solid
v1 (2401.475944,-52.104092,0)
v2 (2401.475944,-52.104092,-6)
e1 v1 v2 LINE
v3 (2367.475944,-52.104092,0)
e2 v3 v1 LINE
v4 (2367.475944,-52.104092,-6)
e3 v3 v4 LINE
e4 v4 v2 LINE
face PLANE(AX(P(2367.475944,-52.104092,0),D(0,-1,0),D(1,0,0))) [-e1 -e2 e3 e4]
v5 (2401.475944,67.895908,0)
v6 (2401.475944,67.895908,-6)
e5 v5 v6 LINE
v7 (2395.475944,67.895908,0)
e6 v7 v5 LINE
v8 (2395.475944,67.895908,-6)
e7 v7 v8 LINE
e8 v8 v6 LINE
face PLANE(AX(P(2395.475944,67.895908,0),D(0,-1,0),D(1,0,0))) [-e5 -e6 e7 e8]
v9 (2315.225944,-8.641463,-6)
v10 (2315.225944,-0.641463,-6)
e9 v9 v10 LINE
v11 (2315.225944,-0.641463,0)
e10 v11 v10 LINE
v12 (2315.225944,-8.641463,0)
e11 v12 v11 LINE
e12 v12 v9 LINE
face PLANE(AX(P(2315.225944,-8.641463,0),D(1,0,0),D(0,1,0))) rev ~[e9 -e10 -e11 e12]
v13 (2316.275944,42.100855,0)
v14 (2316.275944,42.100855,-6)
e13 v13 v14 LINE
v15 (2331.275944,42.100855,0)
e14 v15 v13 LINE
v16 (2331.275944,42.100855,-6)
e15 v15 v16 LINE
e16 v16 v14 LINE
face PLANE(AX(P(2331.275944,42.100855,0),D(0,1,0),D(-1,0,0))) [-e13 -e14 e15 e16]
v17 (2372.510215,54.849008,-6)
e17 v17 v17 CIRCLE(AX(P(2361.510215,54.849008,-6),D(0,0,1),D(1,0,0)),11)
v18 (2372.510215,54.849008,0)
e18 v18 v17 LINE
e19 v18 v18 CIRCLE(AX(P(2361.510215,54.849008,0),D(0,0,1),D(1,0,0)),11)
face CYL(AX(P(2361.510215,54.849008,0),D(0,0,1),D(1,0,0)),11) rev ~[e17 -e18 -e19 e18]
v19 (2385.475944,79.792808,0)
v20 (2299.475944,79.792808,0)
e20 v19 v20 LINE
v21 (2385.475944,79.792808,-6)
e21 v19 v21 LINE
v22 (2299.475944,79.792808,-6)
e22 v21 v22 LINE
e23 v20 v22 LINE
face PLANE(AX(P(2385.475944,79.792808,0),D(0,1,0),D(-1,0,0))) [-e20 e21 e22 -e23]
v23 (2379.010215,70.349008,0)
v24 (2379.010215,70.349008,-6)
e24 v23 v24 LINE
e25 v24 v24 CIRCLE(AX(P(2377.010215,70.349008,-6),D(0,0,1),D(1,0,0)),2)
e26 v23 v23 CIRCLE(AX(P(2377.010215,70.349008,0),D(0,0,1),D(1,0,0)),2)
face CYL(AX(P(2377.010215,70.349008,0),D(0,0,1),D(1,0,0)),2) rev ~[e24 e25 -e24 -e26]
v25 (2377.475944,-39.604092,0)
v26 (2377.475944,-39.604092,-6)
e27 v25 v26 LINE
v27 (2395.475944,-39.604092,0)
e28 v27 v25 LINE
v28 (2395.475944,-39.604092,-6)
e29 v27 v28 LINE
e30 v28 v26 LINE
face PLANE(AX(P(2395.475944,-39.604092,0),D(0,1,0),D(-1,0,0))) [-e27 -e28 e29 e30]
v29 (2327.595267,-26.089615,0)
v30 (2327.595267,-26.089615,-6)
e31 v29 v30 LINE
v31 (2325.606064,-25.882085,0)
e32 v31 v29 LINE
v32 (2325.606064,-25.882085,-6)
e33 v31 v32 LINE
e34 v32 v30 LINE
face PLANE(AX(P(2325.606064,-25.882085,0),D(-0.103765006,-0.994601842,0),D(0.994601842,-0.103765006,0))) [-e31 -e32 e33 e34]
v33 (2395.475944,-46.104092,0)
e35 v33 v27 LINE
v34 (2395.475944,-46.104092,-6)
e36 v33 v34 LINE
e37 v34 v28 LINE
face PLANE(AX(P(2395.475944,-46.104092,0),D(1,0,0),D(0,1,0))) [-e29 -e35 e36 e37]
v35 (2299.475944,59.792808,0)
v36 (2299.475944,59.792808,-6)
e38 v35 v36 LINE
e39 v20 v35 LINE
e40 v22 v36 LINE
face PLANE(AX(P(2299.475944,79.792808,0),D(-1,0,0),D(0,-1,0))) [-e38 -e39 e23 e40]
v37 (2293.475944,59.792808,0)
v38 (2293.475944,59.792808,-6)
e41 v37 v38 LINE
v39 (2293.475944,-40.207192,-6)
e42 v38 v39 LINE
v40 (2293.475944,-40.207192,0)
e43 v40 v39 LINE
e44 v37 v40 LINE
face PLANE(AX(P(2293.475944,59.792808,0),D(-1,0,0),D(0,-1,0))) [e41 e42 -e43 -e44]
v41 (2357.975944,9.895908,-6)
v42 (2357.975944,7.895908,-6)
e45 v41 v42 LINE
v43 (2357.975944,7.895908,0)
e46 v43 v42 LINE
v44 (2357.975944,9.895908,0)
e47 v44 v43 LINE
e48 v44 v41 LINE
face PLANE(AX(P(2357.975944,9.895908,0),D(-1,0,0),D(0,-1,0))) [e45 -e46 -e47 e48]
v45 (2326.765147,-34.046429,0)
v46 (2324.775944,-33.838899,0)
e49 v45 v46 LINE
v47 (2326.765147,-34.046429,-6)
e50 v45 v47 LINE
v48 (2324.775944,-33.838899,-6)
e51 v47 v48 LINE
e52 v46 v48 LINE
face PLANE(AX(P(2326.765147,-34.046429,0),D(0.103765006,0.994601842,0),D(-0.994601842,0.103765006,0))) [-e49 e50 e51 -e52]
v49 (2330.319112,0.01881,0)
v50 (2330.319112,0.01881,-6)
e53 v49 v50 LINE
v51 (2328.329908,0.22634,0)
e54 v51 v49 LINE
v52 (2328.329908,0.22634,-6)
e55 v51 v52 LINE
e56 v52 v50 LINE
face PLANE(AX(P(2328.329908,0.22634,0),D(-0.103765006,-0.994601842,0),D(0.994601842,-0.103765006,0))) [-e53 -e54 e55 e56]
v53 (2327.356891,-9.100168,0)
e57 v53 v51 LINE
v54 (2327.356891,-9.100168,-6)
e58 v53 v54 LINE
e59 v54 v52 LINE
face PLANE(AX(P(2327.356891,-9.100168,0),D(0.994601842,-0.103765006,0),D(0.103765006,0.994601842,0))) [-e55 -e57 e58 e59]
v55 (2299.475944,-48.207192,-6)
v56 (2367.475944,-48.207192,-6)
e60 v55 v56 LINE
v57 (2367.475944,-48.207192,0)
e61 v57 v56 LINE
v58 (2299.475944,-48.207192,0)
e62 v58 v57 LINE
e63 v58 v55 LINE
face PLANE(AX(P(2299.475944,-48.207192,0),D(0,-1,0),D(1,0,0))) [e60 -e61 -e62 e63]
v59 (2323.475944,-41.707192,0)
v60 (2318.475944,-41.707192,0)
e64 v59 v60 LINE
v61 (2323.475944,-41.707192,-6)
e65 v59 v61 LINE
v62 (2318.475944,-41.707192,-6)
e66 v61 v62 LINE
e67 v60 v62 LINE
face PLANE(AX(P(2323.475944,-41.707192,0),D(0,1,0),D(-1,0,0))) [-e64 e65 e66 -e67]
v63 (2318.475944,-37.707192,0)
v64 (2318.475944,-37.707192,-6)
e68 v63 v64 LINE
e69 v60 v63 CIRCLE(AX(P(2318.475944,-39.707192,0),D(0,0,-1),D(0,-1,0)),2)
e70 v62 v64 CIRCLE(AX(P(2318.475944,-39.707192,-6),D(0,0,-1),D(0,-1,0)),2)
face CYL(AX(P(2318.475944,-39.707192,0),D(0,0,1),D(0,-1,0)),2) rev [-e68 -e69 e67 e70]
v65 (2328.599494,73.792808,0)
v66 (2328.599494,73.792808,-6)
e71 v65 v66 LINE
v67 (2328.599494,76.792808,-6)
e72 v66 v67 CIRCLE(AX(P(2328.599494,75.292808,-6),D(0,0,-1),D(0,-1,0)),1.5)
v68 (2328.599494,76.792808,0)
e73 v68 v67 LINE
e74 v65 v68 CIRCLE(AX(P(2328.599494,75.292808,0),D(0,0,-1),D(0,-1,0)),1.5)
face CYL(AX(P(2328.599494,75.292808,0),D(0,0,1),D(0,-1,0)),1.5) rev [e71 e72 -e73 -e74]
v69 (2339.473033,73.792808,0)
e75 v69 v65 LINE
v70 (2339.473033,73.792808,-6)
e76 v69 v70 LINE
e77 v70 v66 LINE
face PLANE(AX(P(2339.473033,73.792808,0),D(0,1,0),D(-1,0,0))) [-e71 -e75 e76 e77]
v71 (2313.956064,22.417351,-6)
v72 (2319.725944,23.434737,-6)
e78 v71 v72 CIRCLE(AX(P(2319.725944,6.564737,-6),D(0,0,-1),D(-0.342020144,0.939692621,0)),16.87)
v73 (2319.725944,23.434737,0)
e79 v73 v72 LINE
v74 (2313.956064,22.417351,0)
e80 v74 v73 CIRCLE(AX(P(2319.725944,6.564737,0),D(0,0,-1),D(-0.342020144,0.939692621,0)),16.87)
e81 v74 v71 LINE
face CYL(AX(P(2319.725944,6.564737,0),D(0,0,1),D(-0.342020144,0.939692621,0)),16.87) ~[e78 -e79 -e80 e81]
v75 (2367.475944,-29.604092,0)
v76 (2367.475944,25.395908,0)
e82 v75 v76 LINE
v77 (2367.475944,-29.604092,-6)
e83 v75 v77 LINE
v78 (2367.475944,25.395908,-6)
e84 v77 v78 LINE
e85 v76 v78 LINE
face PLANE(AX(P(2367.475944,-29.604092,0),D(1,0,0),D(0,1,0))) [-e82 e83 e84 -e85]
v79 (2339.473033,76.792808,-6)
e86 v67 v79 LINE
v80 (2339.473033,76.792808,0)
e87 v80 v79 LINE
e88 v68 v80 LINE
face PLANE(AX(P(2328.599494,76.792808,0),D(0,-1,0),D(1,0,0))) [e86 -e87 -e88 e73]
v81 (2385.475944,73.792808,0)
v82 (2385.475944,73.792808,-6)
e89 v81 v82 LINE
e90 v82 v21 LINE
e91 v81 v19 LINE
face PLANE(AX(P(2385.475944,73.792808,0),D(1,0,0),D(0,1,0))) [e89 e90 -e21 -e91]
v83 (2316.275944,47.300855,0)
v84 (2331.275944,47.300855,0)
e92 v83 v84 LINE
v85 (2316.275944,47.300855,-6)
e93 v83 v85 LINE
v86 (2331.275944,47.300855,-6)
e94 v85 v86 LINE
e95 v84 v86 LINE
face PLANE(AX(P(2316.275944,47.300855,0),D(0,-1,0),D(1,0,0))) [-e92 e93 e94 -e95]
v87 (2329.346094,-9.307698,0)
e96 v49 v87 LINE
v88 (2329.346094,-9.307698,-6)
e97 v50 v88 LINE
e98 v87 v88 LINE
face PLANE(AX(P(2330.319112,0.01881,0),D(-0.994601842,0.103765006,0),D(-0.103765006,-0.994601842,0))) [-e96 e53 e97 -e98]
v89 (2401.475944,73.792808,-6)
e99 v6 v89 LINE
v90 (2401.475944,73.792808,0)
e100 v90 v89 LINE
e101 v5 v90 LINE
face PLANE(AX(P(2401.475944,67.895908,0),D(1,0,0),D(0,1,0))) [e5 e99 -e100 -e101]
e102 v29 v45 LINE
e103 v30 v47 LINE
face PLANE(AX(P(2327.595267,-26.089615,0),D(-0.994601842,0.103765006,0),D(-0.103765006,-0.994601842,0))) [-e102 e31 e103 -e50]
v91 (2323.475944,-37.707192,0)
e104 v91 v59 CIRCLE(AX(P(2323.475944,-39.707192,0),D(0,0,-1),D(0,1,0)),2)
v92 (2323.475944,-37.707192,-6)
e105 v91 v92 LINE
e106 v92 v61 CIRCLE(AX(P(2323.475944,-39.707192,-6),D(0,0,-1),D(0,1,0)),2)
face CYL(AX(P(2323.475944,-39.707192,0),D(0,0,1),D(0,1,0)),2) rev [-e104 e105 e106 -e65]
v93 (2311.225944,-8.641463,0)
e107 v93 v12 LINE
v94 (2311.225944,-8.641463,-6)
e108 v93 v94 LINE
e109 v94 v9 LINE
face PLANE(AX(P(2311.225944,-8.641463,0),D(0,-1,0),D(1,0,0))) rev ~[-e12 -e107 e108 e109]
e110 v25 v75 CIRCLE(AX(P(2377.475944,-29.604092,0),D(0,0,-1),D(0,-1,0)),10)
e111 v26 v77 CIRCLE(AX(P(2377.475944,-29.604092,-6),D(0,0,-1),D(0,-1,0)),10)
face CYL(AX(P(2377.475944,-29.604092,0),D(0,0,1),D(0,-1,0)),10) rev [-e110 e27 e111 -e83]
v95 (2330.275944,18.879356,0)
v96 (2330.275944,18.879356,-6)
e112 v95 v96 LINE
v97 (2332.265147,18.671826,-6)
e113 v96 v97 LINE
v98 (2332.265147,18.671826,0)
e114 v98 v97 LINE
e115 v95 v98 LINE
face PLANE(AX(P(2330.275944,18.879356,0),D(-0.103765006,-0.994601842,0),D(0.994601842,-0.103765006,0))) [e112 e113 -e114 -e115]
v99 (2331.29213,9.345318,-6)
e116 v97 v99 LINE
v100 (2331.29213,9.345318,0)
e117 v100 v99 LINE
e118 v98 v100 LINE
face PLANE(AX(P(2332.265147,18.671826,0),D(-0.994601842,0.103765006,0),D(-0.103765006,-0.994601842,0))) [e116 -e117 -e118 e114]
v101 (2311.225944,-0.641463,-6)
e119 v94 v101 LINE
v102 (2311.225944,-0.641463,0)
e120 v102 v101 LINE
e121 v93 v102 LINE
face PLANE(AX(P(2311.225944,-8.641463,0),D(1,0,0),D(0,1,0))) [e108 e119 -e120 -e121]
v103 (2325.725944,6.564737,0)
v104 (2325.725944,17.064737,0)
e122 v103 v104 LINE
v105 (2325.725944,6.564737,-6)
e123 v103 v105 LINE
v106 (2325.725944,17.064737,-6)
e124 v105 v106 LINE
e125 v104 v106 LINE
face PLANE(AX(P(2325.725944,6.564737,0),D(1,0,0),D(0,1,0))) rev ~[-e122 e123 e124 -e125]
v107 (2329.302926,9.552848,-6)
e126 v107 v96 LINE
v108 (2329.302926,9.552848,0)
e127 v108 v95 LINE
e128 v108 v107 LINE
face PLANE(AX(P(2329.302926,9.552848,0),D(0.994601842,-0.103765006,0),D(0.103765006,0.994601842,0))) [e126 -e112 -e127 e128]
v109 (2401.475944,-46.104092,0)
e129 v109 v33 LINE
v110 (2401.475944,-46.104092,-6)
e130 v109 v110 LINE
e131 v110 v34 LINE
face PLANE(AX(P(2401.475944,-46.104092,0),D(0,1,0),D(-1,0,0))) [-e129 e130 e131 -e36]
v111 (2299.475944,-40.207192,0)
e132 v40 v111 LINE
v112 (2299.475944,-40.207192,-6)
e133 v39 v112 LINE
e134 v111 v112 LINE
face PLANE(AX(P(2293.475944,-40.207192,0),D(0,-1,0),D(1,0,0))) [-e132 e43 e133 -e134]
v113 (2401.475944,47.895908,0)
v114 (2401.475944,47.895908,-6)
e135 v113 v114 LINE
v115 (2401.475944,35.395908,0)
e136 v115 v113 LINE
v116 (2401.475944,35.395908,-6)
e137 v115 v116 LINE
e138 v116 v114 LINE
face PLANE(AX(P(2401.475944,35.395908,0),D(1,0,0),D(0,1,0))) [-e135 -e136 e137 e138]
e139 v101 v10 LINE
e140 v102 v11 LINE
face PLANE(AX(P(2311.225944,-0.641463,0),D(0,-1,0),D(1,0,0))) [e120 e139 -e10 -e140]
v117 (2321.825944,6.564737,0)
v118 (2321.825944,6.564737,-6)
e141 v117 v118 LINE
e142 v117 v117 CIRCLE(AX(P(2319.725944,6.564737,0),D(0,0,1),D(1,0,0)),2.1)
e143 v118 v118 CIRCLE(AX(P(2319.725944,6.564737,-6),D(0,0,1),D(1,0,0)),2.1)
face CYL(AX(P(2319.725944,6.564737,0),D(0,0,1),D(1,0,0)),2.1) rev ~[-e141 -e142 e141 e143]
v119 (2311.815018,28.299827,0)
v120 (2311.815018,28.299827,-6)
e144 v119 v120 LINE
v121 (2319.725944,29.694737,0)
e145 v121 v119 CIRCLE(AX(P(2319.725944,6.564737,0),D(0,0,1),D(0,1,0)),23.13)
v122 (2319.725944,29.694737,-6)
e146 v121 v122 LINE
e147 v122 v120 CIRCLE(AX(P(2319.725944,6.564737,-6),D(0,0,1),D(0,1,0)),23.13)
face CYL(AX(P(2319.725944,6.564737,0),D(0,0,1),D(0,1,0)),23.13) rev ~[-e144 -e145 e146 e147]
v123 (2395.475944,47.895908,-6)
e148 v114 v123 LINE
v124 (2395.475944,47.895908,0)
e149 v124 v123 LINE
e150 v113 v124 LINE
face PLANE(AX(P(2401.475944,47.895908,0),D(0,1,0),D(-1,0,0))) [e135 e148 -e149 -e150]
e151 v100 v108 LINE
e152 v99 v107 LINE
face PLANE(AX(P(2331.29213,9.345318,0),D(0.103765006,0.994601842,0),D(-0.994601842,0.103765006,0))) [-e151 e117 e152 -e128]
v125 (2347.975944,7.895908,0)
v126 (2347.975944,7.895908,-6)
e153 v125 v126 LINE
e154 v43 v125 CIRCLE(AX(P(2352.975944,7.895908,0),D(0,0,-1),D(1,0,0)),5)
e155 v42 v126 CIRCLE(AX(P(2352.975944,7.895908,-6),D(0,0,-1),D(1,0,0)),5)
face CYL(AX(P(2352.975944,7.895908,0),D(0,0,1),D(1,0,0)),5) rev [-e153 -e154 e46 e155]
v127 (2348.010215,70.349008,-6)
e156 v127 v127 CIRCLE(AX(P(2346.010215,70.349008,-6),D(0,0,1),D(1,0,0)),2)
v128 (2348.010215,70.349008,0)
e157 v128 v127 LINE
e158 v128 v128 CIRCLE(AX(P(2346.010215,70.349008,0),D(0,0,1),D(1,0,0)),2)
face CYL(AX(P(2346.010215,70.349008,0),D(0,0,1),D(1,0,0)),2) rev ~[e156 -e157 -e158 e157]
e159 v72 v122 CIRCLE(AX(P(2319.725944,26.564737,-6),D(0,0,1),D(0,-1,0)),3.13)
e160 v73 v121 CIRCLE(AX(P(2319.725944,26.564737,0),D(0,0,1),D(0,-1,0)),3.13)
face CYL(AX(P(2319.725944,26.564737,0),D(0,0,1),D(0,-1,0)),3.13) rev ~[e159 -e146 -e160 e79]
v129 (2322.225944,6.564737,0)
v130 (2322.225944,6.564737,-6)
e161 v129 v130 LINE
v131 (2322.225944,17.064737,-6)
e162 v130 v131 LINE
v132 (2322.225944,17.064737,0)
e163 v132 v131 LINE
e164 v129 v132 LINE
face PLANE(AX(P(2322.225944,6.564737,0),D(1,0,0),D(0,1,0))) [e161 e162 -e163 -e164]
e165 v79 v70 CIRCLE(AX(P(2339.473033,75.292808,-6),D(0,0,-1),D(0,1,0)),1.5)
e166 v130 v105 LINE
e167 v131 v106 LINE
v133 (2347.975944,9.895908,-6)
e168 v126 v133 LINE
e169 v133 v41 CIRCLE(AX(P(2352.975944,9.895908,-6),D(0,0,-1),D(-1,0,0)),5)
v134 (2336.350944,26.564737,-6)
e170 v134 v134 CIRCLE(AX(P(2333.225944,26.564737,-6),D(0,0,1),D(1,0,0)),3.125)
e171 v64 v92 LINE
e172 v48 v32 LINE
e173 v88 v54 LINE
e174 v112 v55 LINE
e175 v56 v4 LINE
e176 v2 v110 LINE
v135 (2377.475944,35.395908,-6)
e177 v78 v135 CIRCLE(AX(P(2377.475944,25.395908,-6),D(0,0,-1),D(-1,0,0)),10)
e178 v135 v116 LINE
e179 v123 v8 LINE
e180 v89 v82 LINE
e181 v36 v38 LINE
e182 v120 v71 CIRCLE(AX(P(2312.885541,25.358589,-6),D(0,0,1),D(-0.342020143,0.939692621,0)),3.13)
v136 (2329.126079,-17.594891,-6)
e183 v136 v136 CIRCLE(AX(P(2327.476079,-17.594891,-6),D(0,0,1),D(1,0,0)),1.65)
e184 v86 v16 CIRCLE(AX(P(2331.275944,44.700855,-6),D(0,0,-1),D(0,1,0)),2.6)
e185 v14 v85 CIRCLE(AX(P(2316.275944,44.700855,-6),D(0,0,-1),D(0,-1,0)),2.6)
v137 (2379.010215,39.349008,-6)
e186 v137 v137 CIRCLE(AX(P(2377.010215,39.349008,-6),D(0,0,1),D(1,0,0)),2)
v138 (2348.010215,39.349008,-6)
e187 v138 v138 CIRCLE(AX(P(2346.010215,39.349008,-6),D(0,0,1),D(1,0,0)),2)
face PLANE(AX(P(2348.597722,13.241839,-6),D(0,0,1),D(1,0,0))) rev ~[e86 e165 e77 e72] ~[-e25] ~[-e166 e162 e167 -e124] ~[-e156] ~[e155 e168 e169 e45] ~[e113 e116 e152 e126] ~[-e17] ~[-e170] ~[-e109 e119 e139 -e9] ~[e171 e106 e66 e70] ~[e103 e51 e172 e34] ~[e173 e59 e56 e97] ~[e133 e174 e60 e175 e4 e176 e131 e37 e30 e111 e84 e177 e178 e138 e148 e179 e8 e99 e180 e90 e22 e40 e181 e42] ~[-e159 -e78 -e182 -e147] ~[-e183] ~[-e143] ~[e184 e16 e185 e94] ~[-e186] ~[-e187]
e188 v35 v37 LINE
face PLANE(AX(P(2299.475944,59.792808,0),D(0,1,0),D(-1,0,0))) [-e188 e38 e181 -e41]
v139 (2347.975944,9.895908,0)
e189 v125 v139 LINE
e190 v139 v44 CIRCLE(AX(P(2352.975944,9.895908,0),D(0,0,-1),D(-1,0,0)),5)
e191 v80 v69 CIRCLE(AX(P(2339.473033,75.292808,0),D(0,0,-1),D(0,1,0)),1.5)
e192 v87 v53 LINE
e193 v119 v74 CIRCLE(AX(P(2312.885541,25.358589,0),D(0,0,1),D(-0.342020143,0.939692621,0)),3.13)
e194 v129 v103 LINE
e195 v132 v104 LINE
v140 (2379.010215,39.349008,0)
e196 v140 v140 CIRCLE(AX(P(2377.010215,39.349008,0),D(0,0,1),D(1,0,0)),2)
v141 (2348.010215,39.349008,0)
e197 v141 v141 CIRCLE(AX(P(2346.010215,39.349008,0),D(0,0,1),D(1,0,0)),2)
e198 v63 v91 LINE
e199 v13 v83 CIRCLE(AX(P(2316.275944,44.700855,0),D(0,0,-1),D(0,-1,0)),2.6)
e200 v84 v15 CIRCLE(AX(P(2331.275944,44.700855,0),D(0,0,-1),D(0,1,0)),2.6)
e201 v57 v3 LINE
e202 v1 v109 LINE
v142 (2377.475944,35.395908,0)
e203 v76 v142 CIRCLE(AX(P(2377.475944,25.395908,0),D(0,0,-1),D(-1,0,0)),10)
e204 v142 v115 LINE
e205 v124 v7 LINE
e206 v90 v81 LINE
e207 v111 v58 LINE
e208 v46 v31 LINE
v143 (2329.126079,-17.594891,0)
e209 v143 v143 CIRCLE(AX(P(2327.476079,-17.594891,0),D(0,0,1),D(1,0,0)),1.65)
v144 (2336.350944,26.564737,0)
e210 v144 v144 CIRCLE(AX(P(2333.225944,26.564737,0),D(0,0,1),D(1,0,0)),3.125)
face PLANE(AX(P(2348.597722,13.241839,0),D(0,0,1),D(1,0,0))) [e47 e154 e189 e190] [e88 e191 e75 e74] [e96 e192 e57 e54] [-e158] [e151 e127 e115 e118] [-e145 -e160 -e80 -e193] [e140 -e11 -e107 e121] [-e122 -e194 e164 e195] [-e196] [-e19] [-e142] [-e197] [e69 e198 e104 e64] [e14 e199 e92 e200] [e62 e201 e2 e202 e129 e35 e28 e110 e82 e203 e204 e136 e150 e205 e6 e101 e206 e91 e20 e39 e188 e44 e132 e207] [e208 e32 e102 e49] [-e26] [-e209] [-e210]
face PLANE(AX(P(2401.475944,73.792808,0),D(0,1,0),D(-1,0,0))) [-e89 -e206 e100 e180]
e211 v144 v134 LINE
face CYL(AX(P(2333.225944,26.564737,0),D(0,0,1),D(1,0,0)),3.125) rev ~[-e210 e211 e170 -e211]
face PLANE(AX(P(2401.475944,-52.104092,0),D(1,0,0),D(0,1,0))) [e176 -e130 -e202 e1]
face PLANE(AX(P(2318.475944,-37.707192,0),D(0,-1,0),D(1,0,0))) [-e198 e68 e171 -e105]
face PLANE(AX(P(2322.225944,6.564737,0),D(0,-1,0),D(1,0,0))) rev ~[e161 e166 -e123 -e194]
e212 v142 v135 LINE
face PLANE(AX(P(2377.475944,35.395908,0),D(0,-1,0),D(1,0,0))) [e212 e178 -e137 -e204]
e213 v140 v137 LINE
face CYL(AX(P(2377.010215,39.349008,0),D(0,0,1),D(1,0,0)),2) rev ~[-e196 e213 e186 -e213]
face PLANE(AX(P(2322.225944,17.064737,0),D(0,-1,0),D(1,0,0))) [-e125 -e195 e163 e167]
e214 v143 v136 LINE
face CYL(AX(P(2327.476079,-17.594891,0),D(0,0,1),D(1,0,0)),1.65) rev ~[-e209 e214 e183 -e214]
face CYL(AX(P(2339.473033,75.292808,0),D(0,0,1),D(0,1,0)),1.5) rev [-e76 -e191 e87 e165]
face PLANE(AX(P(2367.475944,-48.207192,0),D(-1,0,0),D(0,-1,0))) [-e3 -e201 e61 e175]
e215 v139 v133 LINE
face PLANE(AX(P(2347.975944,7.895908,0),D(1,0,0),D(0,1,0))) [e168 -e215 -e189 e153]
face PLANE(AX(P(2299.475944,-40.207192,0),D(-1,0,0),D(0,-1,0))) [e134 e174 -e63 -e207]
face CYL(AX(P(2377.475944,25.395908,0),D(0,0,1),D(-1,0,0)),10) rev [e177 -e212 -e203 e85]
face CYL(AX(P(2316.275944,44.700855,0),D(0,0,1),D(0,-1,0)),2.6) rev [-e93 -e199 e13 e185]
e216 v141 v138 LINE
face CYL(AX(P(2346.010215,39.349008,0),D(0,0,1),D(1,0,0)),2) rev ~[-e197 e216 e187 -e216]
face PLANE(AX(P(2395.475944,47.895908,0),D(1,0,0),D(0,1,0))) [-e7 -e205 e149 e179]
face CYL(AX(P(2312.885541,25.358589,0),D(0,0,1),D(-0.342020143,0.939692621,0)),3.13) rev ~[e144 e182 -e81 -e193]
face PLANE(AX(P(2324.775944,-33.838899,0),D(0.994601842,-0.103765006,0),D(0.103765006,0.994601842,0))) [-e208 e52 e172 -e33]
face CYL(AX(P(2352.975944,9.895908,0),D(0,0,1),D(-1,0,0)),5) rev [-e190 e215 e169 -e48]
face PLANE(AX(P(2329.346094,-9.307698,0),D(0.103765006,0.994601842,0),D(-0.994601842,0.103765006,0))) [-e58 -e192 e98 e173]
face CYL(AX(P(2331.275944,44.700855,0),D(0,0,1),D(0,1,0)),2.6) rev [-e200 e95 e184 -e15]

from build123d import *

# Parameters (mm, degrees)
ESQUISSE1_R        = 2
ESQUISSE1_R_2      = 11
ESQUISSE1_R_3      = 3.125
ESQUISSE1_R_4      = 2.1
ESQUISSE1_R_5      = 1.65
ESQUISSE1_W        = 4
ESQUISSE1_H        = 8
ESQUISSE1_W_2      = 3.5
ESQUISSE1_H_2      = 10.5
BOSS_EXTRU_1_DEPTH = 6


with BuildPart() as part:
    # Esquisse1 → Boss.-Extru.1 (new body)
    with BuildSketch(Plane.XY):
        with BuildLine():
            Line((2401.475943532, -52.104091931), (2401.475943532, -46.104091931))
            Line((2401.475943532, -46.104091931), (2395.475943532, -46.104091931))
            Line((2395.475943532, -46.104091931), (2395.475943532, -39.604091931))
            Line((2395.475943532, -39.604091931), (2377.475943532, -39.604091931))
            ThreePointArc((2377.475943532, -39.604091931), (2370.40487572, -36.675159743), (2367.475943532, -29.604091931))
            Line((2367.475943532, -29.604091931), (2367.475943532, 25.395908069))
            ThreePointArc((2367.475943532, 25.395908069), (2370.40487572, 32.466975881), (2377.475943532, 35.395908069))
            Line((2377.475943532, 35.395908069), (2397.475943532, 35.395908069))
            Line((2397.475943532, 35.395908069), (2401.475943532, 35.395908069))
            Line((2401.475943532, 35.395908069), (2401.475943532, 47.895908069))
            Line((2401.475943532, 47.895908069), (2395.475943532, 47.895908069))
            Line((2395.475943532, 47.895908069), (2395.475943532, 67.895908069))
            Line((2395.475943532, 67.895908069), (2401.475943532, 67.895908069))
            Line((2401.475943532, 67.895908069), (2401.475943532, 73.792808343))
            Line((2401.475943532, 73.792808343), (2395.475943532, 73.792808343))
            Line((2395.475943532, 73.792808343), (2385.475943532, 73.792808343))
            Line((2385.475943532, 73.792808343), (2385.475943532, 79.792808343))
            Line((2385.475943532, 79.792808343), (2299.475943532, 79.792808343))
            Line((2299.475943532, 79.792808343), (2299.475943532, 59.792808343))
            Line((2299.475943532, 59.792808343), (2293.475943532, 59.792808343))
            Line((2293.475943532, 59.792808343), (2293.475943532, -40.20719166))
            Line((2293.475943532, -40.20719166), (2299.475943532, -40.20719166))
            Line((2299.475943532, -40.20719166), (2299.475943532, -48.20719166))
            Line((2299.475943532, -48.20719166), (2367.475943532, -48.20719166))
            Line((2367.475943532, -48.20719166), (2367.475943532, -52.104091931))
            Line((2367.475943532, -52.104091931), (2401.475943532, -52.104091931))
        make_face()
        with Locations((2346.01021478, 70.349007801)):
            Circle(ESQUISSE1_R, mode=Mode.SUBTRACT)
        with Locations((2377.01021478, 70.349007801)):
            Circle(ESQUISSE1_R, mode=Mode.SUBTRACT)
        with Locations((2377.01021478, 39.349007801)):
            Circle(ESQUISSE1_R, mode=Mode.SUBTRACT)
        with Locations((2361.51021478, 54.849007801)):
            Circle(ESQUISSE1_R_2, mode=Mode.SUBTRACT)
        with Locations((2346.01021478, 39.349007801)):
            Circle(ESQUISSE1_R, mode=Mode.SUBTRACT)
        with Locations((2333.225943532, 26.564736553)):
            Circle(ESQUISSE1_R_3, mode=Mode.SUBTRACT)
        with Locations((2319.725943533, 6.564736553)):
            Circle(ESQUISSE1_R_4, mode=Mode.SUBTRACT)
        with Locations((2327.476078896, -17.594891177)):
            Circle(ESQUISSE1_R_5, mode=Mode.SUBTRACT)
        with BuildLine():
            Line((2331.275943532, 42.100855433), (2316.275943532, 42.100855433))
            ThreePointArc((2316.275943532, 42.100855433), (2313.675943532, 44.700855433), (2316.275943532, 47.300855433))
            Line((2316.275943532, 47.300855433), (2331.275943532, 47.300855433))
            ThreePointArc((2331.275943532, 47.300855433), (2333.875943532, 44.700855433), (2331.275943532, 42.100855433))
        make_face(mode=Mode.SUBTRACT)
        with BuildLine():
            Line((2347.975943532, 7.895908069), (2347.975943532, 9.895908069))
            ThreePointArc((2347.975943532, 9.895908069), (2352.975943532, 14.895908069), (2357.975943532, 9.895908069))
            Line((2357.975943532, 9.895908069), (2357.975943532, 7.895908069))
            ThreePointArc((2357.975943532, 7.895908069), (2352.975943532, 2.895908069), (2347.975943532, 7.895908069))
        make_face(mode=Mode.SUBTRACT)
        with BuildLine():
            Line((2339.47303261, 73.792808343), (2328.599494457, 73.792808343))
            ThreePointArc((2328.599494457, 73.792808343), (2327.099494457, 75.292808343), (2328.599494457, 76.792808343))
            Line((2328.599494457, 76.792808343), (2339.47303261, 76.792808343))
            ThreePointArc((2339.47303261, 76.792808343), (2340.97303261, 75.292808343), (2339.47303261, 73.792808343))
        make_face(mode=Mode.SUBTRACT)
        with Locations((2313.225943533, -4.641462904)):
            Rectangle(ESQUISSE1_W, ESQUISSE1_H, mode=Mode.SUBTRACT)
        Polygon((2329.302925864, 9.55284837), (2330.275943532, 18.879356423), (2332.265147216, 18.67182641), (2331.292129548, 9.345318358), align=None, mode=Mode.SUBTRACT)
        Polygon((2327.356890528, -9.100167734), (2328.329908196, 0.226340318), (2330.31911188, 0.018810306), (2329.346094212, -9.307697746), align=None, mode=Mode.SUBTRACT)
        Polygon((2324.775943532, -33.838899342), (2325.606063581, -25.882084609), (2327.595267264, -26.089614621), (2326.765147216, -34.046429354), align=None, mode=Mode.SUBTRACT)
        with Locations((2323.975943533, 11.814736553)):
            Rectangle(ESQUISSE1_W_2, ESQUISSE1_H_2, mode=Mode.SUBTRACT)
        with BuildLine():
            Line((2318.475943532, -37.70719166), (2323.475943532, -37.70719166))
            ThreePointArc((2323.475943532, -37.70719166), (2325.475943532, -39.70719166), (2323.475943532, -41.70719166))
            Line((2323.475943532, -41.70719166), (2318.475943532, -41.70719166))
            ThreePointArc((2318.475943532, -41.70719166), (2316.475943532, -39.70719166), (2318.475943532, -37.70719166))
        make_face(mode=Mode.SUBTRACT)
        with BuildLine():
            ThreePointArc((2319.725943533, 29.694736553), (2315.709461183, 29.34333988), (2311.815017618, 28.299826872))
            ThreePointArc((2311.815017618, 28.299826872), (2309.944302763, 24.28806592), (2313.956063715, 22.417351066))
            ThreePointArc((2313.956063715, 22.417351066), (2316.796498776, 23.178443347), (2319.725943533, 23.434736553))
            ThreePointArc((2319.725943533, 23.434736553), (2322.855943533, 26.564736553), (2319.725943533, 29.694736553))
        make_face(mode=Mode.SUBTRACT)
    extrude(amount=-BOSS_EXTRU_1_DEPTH)


solid = part.part
